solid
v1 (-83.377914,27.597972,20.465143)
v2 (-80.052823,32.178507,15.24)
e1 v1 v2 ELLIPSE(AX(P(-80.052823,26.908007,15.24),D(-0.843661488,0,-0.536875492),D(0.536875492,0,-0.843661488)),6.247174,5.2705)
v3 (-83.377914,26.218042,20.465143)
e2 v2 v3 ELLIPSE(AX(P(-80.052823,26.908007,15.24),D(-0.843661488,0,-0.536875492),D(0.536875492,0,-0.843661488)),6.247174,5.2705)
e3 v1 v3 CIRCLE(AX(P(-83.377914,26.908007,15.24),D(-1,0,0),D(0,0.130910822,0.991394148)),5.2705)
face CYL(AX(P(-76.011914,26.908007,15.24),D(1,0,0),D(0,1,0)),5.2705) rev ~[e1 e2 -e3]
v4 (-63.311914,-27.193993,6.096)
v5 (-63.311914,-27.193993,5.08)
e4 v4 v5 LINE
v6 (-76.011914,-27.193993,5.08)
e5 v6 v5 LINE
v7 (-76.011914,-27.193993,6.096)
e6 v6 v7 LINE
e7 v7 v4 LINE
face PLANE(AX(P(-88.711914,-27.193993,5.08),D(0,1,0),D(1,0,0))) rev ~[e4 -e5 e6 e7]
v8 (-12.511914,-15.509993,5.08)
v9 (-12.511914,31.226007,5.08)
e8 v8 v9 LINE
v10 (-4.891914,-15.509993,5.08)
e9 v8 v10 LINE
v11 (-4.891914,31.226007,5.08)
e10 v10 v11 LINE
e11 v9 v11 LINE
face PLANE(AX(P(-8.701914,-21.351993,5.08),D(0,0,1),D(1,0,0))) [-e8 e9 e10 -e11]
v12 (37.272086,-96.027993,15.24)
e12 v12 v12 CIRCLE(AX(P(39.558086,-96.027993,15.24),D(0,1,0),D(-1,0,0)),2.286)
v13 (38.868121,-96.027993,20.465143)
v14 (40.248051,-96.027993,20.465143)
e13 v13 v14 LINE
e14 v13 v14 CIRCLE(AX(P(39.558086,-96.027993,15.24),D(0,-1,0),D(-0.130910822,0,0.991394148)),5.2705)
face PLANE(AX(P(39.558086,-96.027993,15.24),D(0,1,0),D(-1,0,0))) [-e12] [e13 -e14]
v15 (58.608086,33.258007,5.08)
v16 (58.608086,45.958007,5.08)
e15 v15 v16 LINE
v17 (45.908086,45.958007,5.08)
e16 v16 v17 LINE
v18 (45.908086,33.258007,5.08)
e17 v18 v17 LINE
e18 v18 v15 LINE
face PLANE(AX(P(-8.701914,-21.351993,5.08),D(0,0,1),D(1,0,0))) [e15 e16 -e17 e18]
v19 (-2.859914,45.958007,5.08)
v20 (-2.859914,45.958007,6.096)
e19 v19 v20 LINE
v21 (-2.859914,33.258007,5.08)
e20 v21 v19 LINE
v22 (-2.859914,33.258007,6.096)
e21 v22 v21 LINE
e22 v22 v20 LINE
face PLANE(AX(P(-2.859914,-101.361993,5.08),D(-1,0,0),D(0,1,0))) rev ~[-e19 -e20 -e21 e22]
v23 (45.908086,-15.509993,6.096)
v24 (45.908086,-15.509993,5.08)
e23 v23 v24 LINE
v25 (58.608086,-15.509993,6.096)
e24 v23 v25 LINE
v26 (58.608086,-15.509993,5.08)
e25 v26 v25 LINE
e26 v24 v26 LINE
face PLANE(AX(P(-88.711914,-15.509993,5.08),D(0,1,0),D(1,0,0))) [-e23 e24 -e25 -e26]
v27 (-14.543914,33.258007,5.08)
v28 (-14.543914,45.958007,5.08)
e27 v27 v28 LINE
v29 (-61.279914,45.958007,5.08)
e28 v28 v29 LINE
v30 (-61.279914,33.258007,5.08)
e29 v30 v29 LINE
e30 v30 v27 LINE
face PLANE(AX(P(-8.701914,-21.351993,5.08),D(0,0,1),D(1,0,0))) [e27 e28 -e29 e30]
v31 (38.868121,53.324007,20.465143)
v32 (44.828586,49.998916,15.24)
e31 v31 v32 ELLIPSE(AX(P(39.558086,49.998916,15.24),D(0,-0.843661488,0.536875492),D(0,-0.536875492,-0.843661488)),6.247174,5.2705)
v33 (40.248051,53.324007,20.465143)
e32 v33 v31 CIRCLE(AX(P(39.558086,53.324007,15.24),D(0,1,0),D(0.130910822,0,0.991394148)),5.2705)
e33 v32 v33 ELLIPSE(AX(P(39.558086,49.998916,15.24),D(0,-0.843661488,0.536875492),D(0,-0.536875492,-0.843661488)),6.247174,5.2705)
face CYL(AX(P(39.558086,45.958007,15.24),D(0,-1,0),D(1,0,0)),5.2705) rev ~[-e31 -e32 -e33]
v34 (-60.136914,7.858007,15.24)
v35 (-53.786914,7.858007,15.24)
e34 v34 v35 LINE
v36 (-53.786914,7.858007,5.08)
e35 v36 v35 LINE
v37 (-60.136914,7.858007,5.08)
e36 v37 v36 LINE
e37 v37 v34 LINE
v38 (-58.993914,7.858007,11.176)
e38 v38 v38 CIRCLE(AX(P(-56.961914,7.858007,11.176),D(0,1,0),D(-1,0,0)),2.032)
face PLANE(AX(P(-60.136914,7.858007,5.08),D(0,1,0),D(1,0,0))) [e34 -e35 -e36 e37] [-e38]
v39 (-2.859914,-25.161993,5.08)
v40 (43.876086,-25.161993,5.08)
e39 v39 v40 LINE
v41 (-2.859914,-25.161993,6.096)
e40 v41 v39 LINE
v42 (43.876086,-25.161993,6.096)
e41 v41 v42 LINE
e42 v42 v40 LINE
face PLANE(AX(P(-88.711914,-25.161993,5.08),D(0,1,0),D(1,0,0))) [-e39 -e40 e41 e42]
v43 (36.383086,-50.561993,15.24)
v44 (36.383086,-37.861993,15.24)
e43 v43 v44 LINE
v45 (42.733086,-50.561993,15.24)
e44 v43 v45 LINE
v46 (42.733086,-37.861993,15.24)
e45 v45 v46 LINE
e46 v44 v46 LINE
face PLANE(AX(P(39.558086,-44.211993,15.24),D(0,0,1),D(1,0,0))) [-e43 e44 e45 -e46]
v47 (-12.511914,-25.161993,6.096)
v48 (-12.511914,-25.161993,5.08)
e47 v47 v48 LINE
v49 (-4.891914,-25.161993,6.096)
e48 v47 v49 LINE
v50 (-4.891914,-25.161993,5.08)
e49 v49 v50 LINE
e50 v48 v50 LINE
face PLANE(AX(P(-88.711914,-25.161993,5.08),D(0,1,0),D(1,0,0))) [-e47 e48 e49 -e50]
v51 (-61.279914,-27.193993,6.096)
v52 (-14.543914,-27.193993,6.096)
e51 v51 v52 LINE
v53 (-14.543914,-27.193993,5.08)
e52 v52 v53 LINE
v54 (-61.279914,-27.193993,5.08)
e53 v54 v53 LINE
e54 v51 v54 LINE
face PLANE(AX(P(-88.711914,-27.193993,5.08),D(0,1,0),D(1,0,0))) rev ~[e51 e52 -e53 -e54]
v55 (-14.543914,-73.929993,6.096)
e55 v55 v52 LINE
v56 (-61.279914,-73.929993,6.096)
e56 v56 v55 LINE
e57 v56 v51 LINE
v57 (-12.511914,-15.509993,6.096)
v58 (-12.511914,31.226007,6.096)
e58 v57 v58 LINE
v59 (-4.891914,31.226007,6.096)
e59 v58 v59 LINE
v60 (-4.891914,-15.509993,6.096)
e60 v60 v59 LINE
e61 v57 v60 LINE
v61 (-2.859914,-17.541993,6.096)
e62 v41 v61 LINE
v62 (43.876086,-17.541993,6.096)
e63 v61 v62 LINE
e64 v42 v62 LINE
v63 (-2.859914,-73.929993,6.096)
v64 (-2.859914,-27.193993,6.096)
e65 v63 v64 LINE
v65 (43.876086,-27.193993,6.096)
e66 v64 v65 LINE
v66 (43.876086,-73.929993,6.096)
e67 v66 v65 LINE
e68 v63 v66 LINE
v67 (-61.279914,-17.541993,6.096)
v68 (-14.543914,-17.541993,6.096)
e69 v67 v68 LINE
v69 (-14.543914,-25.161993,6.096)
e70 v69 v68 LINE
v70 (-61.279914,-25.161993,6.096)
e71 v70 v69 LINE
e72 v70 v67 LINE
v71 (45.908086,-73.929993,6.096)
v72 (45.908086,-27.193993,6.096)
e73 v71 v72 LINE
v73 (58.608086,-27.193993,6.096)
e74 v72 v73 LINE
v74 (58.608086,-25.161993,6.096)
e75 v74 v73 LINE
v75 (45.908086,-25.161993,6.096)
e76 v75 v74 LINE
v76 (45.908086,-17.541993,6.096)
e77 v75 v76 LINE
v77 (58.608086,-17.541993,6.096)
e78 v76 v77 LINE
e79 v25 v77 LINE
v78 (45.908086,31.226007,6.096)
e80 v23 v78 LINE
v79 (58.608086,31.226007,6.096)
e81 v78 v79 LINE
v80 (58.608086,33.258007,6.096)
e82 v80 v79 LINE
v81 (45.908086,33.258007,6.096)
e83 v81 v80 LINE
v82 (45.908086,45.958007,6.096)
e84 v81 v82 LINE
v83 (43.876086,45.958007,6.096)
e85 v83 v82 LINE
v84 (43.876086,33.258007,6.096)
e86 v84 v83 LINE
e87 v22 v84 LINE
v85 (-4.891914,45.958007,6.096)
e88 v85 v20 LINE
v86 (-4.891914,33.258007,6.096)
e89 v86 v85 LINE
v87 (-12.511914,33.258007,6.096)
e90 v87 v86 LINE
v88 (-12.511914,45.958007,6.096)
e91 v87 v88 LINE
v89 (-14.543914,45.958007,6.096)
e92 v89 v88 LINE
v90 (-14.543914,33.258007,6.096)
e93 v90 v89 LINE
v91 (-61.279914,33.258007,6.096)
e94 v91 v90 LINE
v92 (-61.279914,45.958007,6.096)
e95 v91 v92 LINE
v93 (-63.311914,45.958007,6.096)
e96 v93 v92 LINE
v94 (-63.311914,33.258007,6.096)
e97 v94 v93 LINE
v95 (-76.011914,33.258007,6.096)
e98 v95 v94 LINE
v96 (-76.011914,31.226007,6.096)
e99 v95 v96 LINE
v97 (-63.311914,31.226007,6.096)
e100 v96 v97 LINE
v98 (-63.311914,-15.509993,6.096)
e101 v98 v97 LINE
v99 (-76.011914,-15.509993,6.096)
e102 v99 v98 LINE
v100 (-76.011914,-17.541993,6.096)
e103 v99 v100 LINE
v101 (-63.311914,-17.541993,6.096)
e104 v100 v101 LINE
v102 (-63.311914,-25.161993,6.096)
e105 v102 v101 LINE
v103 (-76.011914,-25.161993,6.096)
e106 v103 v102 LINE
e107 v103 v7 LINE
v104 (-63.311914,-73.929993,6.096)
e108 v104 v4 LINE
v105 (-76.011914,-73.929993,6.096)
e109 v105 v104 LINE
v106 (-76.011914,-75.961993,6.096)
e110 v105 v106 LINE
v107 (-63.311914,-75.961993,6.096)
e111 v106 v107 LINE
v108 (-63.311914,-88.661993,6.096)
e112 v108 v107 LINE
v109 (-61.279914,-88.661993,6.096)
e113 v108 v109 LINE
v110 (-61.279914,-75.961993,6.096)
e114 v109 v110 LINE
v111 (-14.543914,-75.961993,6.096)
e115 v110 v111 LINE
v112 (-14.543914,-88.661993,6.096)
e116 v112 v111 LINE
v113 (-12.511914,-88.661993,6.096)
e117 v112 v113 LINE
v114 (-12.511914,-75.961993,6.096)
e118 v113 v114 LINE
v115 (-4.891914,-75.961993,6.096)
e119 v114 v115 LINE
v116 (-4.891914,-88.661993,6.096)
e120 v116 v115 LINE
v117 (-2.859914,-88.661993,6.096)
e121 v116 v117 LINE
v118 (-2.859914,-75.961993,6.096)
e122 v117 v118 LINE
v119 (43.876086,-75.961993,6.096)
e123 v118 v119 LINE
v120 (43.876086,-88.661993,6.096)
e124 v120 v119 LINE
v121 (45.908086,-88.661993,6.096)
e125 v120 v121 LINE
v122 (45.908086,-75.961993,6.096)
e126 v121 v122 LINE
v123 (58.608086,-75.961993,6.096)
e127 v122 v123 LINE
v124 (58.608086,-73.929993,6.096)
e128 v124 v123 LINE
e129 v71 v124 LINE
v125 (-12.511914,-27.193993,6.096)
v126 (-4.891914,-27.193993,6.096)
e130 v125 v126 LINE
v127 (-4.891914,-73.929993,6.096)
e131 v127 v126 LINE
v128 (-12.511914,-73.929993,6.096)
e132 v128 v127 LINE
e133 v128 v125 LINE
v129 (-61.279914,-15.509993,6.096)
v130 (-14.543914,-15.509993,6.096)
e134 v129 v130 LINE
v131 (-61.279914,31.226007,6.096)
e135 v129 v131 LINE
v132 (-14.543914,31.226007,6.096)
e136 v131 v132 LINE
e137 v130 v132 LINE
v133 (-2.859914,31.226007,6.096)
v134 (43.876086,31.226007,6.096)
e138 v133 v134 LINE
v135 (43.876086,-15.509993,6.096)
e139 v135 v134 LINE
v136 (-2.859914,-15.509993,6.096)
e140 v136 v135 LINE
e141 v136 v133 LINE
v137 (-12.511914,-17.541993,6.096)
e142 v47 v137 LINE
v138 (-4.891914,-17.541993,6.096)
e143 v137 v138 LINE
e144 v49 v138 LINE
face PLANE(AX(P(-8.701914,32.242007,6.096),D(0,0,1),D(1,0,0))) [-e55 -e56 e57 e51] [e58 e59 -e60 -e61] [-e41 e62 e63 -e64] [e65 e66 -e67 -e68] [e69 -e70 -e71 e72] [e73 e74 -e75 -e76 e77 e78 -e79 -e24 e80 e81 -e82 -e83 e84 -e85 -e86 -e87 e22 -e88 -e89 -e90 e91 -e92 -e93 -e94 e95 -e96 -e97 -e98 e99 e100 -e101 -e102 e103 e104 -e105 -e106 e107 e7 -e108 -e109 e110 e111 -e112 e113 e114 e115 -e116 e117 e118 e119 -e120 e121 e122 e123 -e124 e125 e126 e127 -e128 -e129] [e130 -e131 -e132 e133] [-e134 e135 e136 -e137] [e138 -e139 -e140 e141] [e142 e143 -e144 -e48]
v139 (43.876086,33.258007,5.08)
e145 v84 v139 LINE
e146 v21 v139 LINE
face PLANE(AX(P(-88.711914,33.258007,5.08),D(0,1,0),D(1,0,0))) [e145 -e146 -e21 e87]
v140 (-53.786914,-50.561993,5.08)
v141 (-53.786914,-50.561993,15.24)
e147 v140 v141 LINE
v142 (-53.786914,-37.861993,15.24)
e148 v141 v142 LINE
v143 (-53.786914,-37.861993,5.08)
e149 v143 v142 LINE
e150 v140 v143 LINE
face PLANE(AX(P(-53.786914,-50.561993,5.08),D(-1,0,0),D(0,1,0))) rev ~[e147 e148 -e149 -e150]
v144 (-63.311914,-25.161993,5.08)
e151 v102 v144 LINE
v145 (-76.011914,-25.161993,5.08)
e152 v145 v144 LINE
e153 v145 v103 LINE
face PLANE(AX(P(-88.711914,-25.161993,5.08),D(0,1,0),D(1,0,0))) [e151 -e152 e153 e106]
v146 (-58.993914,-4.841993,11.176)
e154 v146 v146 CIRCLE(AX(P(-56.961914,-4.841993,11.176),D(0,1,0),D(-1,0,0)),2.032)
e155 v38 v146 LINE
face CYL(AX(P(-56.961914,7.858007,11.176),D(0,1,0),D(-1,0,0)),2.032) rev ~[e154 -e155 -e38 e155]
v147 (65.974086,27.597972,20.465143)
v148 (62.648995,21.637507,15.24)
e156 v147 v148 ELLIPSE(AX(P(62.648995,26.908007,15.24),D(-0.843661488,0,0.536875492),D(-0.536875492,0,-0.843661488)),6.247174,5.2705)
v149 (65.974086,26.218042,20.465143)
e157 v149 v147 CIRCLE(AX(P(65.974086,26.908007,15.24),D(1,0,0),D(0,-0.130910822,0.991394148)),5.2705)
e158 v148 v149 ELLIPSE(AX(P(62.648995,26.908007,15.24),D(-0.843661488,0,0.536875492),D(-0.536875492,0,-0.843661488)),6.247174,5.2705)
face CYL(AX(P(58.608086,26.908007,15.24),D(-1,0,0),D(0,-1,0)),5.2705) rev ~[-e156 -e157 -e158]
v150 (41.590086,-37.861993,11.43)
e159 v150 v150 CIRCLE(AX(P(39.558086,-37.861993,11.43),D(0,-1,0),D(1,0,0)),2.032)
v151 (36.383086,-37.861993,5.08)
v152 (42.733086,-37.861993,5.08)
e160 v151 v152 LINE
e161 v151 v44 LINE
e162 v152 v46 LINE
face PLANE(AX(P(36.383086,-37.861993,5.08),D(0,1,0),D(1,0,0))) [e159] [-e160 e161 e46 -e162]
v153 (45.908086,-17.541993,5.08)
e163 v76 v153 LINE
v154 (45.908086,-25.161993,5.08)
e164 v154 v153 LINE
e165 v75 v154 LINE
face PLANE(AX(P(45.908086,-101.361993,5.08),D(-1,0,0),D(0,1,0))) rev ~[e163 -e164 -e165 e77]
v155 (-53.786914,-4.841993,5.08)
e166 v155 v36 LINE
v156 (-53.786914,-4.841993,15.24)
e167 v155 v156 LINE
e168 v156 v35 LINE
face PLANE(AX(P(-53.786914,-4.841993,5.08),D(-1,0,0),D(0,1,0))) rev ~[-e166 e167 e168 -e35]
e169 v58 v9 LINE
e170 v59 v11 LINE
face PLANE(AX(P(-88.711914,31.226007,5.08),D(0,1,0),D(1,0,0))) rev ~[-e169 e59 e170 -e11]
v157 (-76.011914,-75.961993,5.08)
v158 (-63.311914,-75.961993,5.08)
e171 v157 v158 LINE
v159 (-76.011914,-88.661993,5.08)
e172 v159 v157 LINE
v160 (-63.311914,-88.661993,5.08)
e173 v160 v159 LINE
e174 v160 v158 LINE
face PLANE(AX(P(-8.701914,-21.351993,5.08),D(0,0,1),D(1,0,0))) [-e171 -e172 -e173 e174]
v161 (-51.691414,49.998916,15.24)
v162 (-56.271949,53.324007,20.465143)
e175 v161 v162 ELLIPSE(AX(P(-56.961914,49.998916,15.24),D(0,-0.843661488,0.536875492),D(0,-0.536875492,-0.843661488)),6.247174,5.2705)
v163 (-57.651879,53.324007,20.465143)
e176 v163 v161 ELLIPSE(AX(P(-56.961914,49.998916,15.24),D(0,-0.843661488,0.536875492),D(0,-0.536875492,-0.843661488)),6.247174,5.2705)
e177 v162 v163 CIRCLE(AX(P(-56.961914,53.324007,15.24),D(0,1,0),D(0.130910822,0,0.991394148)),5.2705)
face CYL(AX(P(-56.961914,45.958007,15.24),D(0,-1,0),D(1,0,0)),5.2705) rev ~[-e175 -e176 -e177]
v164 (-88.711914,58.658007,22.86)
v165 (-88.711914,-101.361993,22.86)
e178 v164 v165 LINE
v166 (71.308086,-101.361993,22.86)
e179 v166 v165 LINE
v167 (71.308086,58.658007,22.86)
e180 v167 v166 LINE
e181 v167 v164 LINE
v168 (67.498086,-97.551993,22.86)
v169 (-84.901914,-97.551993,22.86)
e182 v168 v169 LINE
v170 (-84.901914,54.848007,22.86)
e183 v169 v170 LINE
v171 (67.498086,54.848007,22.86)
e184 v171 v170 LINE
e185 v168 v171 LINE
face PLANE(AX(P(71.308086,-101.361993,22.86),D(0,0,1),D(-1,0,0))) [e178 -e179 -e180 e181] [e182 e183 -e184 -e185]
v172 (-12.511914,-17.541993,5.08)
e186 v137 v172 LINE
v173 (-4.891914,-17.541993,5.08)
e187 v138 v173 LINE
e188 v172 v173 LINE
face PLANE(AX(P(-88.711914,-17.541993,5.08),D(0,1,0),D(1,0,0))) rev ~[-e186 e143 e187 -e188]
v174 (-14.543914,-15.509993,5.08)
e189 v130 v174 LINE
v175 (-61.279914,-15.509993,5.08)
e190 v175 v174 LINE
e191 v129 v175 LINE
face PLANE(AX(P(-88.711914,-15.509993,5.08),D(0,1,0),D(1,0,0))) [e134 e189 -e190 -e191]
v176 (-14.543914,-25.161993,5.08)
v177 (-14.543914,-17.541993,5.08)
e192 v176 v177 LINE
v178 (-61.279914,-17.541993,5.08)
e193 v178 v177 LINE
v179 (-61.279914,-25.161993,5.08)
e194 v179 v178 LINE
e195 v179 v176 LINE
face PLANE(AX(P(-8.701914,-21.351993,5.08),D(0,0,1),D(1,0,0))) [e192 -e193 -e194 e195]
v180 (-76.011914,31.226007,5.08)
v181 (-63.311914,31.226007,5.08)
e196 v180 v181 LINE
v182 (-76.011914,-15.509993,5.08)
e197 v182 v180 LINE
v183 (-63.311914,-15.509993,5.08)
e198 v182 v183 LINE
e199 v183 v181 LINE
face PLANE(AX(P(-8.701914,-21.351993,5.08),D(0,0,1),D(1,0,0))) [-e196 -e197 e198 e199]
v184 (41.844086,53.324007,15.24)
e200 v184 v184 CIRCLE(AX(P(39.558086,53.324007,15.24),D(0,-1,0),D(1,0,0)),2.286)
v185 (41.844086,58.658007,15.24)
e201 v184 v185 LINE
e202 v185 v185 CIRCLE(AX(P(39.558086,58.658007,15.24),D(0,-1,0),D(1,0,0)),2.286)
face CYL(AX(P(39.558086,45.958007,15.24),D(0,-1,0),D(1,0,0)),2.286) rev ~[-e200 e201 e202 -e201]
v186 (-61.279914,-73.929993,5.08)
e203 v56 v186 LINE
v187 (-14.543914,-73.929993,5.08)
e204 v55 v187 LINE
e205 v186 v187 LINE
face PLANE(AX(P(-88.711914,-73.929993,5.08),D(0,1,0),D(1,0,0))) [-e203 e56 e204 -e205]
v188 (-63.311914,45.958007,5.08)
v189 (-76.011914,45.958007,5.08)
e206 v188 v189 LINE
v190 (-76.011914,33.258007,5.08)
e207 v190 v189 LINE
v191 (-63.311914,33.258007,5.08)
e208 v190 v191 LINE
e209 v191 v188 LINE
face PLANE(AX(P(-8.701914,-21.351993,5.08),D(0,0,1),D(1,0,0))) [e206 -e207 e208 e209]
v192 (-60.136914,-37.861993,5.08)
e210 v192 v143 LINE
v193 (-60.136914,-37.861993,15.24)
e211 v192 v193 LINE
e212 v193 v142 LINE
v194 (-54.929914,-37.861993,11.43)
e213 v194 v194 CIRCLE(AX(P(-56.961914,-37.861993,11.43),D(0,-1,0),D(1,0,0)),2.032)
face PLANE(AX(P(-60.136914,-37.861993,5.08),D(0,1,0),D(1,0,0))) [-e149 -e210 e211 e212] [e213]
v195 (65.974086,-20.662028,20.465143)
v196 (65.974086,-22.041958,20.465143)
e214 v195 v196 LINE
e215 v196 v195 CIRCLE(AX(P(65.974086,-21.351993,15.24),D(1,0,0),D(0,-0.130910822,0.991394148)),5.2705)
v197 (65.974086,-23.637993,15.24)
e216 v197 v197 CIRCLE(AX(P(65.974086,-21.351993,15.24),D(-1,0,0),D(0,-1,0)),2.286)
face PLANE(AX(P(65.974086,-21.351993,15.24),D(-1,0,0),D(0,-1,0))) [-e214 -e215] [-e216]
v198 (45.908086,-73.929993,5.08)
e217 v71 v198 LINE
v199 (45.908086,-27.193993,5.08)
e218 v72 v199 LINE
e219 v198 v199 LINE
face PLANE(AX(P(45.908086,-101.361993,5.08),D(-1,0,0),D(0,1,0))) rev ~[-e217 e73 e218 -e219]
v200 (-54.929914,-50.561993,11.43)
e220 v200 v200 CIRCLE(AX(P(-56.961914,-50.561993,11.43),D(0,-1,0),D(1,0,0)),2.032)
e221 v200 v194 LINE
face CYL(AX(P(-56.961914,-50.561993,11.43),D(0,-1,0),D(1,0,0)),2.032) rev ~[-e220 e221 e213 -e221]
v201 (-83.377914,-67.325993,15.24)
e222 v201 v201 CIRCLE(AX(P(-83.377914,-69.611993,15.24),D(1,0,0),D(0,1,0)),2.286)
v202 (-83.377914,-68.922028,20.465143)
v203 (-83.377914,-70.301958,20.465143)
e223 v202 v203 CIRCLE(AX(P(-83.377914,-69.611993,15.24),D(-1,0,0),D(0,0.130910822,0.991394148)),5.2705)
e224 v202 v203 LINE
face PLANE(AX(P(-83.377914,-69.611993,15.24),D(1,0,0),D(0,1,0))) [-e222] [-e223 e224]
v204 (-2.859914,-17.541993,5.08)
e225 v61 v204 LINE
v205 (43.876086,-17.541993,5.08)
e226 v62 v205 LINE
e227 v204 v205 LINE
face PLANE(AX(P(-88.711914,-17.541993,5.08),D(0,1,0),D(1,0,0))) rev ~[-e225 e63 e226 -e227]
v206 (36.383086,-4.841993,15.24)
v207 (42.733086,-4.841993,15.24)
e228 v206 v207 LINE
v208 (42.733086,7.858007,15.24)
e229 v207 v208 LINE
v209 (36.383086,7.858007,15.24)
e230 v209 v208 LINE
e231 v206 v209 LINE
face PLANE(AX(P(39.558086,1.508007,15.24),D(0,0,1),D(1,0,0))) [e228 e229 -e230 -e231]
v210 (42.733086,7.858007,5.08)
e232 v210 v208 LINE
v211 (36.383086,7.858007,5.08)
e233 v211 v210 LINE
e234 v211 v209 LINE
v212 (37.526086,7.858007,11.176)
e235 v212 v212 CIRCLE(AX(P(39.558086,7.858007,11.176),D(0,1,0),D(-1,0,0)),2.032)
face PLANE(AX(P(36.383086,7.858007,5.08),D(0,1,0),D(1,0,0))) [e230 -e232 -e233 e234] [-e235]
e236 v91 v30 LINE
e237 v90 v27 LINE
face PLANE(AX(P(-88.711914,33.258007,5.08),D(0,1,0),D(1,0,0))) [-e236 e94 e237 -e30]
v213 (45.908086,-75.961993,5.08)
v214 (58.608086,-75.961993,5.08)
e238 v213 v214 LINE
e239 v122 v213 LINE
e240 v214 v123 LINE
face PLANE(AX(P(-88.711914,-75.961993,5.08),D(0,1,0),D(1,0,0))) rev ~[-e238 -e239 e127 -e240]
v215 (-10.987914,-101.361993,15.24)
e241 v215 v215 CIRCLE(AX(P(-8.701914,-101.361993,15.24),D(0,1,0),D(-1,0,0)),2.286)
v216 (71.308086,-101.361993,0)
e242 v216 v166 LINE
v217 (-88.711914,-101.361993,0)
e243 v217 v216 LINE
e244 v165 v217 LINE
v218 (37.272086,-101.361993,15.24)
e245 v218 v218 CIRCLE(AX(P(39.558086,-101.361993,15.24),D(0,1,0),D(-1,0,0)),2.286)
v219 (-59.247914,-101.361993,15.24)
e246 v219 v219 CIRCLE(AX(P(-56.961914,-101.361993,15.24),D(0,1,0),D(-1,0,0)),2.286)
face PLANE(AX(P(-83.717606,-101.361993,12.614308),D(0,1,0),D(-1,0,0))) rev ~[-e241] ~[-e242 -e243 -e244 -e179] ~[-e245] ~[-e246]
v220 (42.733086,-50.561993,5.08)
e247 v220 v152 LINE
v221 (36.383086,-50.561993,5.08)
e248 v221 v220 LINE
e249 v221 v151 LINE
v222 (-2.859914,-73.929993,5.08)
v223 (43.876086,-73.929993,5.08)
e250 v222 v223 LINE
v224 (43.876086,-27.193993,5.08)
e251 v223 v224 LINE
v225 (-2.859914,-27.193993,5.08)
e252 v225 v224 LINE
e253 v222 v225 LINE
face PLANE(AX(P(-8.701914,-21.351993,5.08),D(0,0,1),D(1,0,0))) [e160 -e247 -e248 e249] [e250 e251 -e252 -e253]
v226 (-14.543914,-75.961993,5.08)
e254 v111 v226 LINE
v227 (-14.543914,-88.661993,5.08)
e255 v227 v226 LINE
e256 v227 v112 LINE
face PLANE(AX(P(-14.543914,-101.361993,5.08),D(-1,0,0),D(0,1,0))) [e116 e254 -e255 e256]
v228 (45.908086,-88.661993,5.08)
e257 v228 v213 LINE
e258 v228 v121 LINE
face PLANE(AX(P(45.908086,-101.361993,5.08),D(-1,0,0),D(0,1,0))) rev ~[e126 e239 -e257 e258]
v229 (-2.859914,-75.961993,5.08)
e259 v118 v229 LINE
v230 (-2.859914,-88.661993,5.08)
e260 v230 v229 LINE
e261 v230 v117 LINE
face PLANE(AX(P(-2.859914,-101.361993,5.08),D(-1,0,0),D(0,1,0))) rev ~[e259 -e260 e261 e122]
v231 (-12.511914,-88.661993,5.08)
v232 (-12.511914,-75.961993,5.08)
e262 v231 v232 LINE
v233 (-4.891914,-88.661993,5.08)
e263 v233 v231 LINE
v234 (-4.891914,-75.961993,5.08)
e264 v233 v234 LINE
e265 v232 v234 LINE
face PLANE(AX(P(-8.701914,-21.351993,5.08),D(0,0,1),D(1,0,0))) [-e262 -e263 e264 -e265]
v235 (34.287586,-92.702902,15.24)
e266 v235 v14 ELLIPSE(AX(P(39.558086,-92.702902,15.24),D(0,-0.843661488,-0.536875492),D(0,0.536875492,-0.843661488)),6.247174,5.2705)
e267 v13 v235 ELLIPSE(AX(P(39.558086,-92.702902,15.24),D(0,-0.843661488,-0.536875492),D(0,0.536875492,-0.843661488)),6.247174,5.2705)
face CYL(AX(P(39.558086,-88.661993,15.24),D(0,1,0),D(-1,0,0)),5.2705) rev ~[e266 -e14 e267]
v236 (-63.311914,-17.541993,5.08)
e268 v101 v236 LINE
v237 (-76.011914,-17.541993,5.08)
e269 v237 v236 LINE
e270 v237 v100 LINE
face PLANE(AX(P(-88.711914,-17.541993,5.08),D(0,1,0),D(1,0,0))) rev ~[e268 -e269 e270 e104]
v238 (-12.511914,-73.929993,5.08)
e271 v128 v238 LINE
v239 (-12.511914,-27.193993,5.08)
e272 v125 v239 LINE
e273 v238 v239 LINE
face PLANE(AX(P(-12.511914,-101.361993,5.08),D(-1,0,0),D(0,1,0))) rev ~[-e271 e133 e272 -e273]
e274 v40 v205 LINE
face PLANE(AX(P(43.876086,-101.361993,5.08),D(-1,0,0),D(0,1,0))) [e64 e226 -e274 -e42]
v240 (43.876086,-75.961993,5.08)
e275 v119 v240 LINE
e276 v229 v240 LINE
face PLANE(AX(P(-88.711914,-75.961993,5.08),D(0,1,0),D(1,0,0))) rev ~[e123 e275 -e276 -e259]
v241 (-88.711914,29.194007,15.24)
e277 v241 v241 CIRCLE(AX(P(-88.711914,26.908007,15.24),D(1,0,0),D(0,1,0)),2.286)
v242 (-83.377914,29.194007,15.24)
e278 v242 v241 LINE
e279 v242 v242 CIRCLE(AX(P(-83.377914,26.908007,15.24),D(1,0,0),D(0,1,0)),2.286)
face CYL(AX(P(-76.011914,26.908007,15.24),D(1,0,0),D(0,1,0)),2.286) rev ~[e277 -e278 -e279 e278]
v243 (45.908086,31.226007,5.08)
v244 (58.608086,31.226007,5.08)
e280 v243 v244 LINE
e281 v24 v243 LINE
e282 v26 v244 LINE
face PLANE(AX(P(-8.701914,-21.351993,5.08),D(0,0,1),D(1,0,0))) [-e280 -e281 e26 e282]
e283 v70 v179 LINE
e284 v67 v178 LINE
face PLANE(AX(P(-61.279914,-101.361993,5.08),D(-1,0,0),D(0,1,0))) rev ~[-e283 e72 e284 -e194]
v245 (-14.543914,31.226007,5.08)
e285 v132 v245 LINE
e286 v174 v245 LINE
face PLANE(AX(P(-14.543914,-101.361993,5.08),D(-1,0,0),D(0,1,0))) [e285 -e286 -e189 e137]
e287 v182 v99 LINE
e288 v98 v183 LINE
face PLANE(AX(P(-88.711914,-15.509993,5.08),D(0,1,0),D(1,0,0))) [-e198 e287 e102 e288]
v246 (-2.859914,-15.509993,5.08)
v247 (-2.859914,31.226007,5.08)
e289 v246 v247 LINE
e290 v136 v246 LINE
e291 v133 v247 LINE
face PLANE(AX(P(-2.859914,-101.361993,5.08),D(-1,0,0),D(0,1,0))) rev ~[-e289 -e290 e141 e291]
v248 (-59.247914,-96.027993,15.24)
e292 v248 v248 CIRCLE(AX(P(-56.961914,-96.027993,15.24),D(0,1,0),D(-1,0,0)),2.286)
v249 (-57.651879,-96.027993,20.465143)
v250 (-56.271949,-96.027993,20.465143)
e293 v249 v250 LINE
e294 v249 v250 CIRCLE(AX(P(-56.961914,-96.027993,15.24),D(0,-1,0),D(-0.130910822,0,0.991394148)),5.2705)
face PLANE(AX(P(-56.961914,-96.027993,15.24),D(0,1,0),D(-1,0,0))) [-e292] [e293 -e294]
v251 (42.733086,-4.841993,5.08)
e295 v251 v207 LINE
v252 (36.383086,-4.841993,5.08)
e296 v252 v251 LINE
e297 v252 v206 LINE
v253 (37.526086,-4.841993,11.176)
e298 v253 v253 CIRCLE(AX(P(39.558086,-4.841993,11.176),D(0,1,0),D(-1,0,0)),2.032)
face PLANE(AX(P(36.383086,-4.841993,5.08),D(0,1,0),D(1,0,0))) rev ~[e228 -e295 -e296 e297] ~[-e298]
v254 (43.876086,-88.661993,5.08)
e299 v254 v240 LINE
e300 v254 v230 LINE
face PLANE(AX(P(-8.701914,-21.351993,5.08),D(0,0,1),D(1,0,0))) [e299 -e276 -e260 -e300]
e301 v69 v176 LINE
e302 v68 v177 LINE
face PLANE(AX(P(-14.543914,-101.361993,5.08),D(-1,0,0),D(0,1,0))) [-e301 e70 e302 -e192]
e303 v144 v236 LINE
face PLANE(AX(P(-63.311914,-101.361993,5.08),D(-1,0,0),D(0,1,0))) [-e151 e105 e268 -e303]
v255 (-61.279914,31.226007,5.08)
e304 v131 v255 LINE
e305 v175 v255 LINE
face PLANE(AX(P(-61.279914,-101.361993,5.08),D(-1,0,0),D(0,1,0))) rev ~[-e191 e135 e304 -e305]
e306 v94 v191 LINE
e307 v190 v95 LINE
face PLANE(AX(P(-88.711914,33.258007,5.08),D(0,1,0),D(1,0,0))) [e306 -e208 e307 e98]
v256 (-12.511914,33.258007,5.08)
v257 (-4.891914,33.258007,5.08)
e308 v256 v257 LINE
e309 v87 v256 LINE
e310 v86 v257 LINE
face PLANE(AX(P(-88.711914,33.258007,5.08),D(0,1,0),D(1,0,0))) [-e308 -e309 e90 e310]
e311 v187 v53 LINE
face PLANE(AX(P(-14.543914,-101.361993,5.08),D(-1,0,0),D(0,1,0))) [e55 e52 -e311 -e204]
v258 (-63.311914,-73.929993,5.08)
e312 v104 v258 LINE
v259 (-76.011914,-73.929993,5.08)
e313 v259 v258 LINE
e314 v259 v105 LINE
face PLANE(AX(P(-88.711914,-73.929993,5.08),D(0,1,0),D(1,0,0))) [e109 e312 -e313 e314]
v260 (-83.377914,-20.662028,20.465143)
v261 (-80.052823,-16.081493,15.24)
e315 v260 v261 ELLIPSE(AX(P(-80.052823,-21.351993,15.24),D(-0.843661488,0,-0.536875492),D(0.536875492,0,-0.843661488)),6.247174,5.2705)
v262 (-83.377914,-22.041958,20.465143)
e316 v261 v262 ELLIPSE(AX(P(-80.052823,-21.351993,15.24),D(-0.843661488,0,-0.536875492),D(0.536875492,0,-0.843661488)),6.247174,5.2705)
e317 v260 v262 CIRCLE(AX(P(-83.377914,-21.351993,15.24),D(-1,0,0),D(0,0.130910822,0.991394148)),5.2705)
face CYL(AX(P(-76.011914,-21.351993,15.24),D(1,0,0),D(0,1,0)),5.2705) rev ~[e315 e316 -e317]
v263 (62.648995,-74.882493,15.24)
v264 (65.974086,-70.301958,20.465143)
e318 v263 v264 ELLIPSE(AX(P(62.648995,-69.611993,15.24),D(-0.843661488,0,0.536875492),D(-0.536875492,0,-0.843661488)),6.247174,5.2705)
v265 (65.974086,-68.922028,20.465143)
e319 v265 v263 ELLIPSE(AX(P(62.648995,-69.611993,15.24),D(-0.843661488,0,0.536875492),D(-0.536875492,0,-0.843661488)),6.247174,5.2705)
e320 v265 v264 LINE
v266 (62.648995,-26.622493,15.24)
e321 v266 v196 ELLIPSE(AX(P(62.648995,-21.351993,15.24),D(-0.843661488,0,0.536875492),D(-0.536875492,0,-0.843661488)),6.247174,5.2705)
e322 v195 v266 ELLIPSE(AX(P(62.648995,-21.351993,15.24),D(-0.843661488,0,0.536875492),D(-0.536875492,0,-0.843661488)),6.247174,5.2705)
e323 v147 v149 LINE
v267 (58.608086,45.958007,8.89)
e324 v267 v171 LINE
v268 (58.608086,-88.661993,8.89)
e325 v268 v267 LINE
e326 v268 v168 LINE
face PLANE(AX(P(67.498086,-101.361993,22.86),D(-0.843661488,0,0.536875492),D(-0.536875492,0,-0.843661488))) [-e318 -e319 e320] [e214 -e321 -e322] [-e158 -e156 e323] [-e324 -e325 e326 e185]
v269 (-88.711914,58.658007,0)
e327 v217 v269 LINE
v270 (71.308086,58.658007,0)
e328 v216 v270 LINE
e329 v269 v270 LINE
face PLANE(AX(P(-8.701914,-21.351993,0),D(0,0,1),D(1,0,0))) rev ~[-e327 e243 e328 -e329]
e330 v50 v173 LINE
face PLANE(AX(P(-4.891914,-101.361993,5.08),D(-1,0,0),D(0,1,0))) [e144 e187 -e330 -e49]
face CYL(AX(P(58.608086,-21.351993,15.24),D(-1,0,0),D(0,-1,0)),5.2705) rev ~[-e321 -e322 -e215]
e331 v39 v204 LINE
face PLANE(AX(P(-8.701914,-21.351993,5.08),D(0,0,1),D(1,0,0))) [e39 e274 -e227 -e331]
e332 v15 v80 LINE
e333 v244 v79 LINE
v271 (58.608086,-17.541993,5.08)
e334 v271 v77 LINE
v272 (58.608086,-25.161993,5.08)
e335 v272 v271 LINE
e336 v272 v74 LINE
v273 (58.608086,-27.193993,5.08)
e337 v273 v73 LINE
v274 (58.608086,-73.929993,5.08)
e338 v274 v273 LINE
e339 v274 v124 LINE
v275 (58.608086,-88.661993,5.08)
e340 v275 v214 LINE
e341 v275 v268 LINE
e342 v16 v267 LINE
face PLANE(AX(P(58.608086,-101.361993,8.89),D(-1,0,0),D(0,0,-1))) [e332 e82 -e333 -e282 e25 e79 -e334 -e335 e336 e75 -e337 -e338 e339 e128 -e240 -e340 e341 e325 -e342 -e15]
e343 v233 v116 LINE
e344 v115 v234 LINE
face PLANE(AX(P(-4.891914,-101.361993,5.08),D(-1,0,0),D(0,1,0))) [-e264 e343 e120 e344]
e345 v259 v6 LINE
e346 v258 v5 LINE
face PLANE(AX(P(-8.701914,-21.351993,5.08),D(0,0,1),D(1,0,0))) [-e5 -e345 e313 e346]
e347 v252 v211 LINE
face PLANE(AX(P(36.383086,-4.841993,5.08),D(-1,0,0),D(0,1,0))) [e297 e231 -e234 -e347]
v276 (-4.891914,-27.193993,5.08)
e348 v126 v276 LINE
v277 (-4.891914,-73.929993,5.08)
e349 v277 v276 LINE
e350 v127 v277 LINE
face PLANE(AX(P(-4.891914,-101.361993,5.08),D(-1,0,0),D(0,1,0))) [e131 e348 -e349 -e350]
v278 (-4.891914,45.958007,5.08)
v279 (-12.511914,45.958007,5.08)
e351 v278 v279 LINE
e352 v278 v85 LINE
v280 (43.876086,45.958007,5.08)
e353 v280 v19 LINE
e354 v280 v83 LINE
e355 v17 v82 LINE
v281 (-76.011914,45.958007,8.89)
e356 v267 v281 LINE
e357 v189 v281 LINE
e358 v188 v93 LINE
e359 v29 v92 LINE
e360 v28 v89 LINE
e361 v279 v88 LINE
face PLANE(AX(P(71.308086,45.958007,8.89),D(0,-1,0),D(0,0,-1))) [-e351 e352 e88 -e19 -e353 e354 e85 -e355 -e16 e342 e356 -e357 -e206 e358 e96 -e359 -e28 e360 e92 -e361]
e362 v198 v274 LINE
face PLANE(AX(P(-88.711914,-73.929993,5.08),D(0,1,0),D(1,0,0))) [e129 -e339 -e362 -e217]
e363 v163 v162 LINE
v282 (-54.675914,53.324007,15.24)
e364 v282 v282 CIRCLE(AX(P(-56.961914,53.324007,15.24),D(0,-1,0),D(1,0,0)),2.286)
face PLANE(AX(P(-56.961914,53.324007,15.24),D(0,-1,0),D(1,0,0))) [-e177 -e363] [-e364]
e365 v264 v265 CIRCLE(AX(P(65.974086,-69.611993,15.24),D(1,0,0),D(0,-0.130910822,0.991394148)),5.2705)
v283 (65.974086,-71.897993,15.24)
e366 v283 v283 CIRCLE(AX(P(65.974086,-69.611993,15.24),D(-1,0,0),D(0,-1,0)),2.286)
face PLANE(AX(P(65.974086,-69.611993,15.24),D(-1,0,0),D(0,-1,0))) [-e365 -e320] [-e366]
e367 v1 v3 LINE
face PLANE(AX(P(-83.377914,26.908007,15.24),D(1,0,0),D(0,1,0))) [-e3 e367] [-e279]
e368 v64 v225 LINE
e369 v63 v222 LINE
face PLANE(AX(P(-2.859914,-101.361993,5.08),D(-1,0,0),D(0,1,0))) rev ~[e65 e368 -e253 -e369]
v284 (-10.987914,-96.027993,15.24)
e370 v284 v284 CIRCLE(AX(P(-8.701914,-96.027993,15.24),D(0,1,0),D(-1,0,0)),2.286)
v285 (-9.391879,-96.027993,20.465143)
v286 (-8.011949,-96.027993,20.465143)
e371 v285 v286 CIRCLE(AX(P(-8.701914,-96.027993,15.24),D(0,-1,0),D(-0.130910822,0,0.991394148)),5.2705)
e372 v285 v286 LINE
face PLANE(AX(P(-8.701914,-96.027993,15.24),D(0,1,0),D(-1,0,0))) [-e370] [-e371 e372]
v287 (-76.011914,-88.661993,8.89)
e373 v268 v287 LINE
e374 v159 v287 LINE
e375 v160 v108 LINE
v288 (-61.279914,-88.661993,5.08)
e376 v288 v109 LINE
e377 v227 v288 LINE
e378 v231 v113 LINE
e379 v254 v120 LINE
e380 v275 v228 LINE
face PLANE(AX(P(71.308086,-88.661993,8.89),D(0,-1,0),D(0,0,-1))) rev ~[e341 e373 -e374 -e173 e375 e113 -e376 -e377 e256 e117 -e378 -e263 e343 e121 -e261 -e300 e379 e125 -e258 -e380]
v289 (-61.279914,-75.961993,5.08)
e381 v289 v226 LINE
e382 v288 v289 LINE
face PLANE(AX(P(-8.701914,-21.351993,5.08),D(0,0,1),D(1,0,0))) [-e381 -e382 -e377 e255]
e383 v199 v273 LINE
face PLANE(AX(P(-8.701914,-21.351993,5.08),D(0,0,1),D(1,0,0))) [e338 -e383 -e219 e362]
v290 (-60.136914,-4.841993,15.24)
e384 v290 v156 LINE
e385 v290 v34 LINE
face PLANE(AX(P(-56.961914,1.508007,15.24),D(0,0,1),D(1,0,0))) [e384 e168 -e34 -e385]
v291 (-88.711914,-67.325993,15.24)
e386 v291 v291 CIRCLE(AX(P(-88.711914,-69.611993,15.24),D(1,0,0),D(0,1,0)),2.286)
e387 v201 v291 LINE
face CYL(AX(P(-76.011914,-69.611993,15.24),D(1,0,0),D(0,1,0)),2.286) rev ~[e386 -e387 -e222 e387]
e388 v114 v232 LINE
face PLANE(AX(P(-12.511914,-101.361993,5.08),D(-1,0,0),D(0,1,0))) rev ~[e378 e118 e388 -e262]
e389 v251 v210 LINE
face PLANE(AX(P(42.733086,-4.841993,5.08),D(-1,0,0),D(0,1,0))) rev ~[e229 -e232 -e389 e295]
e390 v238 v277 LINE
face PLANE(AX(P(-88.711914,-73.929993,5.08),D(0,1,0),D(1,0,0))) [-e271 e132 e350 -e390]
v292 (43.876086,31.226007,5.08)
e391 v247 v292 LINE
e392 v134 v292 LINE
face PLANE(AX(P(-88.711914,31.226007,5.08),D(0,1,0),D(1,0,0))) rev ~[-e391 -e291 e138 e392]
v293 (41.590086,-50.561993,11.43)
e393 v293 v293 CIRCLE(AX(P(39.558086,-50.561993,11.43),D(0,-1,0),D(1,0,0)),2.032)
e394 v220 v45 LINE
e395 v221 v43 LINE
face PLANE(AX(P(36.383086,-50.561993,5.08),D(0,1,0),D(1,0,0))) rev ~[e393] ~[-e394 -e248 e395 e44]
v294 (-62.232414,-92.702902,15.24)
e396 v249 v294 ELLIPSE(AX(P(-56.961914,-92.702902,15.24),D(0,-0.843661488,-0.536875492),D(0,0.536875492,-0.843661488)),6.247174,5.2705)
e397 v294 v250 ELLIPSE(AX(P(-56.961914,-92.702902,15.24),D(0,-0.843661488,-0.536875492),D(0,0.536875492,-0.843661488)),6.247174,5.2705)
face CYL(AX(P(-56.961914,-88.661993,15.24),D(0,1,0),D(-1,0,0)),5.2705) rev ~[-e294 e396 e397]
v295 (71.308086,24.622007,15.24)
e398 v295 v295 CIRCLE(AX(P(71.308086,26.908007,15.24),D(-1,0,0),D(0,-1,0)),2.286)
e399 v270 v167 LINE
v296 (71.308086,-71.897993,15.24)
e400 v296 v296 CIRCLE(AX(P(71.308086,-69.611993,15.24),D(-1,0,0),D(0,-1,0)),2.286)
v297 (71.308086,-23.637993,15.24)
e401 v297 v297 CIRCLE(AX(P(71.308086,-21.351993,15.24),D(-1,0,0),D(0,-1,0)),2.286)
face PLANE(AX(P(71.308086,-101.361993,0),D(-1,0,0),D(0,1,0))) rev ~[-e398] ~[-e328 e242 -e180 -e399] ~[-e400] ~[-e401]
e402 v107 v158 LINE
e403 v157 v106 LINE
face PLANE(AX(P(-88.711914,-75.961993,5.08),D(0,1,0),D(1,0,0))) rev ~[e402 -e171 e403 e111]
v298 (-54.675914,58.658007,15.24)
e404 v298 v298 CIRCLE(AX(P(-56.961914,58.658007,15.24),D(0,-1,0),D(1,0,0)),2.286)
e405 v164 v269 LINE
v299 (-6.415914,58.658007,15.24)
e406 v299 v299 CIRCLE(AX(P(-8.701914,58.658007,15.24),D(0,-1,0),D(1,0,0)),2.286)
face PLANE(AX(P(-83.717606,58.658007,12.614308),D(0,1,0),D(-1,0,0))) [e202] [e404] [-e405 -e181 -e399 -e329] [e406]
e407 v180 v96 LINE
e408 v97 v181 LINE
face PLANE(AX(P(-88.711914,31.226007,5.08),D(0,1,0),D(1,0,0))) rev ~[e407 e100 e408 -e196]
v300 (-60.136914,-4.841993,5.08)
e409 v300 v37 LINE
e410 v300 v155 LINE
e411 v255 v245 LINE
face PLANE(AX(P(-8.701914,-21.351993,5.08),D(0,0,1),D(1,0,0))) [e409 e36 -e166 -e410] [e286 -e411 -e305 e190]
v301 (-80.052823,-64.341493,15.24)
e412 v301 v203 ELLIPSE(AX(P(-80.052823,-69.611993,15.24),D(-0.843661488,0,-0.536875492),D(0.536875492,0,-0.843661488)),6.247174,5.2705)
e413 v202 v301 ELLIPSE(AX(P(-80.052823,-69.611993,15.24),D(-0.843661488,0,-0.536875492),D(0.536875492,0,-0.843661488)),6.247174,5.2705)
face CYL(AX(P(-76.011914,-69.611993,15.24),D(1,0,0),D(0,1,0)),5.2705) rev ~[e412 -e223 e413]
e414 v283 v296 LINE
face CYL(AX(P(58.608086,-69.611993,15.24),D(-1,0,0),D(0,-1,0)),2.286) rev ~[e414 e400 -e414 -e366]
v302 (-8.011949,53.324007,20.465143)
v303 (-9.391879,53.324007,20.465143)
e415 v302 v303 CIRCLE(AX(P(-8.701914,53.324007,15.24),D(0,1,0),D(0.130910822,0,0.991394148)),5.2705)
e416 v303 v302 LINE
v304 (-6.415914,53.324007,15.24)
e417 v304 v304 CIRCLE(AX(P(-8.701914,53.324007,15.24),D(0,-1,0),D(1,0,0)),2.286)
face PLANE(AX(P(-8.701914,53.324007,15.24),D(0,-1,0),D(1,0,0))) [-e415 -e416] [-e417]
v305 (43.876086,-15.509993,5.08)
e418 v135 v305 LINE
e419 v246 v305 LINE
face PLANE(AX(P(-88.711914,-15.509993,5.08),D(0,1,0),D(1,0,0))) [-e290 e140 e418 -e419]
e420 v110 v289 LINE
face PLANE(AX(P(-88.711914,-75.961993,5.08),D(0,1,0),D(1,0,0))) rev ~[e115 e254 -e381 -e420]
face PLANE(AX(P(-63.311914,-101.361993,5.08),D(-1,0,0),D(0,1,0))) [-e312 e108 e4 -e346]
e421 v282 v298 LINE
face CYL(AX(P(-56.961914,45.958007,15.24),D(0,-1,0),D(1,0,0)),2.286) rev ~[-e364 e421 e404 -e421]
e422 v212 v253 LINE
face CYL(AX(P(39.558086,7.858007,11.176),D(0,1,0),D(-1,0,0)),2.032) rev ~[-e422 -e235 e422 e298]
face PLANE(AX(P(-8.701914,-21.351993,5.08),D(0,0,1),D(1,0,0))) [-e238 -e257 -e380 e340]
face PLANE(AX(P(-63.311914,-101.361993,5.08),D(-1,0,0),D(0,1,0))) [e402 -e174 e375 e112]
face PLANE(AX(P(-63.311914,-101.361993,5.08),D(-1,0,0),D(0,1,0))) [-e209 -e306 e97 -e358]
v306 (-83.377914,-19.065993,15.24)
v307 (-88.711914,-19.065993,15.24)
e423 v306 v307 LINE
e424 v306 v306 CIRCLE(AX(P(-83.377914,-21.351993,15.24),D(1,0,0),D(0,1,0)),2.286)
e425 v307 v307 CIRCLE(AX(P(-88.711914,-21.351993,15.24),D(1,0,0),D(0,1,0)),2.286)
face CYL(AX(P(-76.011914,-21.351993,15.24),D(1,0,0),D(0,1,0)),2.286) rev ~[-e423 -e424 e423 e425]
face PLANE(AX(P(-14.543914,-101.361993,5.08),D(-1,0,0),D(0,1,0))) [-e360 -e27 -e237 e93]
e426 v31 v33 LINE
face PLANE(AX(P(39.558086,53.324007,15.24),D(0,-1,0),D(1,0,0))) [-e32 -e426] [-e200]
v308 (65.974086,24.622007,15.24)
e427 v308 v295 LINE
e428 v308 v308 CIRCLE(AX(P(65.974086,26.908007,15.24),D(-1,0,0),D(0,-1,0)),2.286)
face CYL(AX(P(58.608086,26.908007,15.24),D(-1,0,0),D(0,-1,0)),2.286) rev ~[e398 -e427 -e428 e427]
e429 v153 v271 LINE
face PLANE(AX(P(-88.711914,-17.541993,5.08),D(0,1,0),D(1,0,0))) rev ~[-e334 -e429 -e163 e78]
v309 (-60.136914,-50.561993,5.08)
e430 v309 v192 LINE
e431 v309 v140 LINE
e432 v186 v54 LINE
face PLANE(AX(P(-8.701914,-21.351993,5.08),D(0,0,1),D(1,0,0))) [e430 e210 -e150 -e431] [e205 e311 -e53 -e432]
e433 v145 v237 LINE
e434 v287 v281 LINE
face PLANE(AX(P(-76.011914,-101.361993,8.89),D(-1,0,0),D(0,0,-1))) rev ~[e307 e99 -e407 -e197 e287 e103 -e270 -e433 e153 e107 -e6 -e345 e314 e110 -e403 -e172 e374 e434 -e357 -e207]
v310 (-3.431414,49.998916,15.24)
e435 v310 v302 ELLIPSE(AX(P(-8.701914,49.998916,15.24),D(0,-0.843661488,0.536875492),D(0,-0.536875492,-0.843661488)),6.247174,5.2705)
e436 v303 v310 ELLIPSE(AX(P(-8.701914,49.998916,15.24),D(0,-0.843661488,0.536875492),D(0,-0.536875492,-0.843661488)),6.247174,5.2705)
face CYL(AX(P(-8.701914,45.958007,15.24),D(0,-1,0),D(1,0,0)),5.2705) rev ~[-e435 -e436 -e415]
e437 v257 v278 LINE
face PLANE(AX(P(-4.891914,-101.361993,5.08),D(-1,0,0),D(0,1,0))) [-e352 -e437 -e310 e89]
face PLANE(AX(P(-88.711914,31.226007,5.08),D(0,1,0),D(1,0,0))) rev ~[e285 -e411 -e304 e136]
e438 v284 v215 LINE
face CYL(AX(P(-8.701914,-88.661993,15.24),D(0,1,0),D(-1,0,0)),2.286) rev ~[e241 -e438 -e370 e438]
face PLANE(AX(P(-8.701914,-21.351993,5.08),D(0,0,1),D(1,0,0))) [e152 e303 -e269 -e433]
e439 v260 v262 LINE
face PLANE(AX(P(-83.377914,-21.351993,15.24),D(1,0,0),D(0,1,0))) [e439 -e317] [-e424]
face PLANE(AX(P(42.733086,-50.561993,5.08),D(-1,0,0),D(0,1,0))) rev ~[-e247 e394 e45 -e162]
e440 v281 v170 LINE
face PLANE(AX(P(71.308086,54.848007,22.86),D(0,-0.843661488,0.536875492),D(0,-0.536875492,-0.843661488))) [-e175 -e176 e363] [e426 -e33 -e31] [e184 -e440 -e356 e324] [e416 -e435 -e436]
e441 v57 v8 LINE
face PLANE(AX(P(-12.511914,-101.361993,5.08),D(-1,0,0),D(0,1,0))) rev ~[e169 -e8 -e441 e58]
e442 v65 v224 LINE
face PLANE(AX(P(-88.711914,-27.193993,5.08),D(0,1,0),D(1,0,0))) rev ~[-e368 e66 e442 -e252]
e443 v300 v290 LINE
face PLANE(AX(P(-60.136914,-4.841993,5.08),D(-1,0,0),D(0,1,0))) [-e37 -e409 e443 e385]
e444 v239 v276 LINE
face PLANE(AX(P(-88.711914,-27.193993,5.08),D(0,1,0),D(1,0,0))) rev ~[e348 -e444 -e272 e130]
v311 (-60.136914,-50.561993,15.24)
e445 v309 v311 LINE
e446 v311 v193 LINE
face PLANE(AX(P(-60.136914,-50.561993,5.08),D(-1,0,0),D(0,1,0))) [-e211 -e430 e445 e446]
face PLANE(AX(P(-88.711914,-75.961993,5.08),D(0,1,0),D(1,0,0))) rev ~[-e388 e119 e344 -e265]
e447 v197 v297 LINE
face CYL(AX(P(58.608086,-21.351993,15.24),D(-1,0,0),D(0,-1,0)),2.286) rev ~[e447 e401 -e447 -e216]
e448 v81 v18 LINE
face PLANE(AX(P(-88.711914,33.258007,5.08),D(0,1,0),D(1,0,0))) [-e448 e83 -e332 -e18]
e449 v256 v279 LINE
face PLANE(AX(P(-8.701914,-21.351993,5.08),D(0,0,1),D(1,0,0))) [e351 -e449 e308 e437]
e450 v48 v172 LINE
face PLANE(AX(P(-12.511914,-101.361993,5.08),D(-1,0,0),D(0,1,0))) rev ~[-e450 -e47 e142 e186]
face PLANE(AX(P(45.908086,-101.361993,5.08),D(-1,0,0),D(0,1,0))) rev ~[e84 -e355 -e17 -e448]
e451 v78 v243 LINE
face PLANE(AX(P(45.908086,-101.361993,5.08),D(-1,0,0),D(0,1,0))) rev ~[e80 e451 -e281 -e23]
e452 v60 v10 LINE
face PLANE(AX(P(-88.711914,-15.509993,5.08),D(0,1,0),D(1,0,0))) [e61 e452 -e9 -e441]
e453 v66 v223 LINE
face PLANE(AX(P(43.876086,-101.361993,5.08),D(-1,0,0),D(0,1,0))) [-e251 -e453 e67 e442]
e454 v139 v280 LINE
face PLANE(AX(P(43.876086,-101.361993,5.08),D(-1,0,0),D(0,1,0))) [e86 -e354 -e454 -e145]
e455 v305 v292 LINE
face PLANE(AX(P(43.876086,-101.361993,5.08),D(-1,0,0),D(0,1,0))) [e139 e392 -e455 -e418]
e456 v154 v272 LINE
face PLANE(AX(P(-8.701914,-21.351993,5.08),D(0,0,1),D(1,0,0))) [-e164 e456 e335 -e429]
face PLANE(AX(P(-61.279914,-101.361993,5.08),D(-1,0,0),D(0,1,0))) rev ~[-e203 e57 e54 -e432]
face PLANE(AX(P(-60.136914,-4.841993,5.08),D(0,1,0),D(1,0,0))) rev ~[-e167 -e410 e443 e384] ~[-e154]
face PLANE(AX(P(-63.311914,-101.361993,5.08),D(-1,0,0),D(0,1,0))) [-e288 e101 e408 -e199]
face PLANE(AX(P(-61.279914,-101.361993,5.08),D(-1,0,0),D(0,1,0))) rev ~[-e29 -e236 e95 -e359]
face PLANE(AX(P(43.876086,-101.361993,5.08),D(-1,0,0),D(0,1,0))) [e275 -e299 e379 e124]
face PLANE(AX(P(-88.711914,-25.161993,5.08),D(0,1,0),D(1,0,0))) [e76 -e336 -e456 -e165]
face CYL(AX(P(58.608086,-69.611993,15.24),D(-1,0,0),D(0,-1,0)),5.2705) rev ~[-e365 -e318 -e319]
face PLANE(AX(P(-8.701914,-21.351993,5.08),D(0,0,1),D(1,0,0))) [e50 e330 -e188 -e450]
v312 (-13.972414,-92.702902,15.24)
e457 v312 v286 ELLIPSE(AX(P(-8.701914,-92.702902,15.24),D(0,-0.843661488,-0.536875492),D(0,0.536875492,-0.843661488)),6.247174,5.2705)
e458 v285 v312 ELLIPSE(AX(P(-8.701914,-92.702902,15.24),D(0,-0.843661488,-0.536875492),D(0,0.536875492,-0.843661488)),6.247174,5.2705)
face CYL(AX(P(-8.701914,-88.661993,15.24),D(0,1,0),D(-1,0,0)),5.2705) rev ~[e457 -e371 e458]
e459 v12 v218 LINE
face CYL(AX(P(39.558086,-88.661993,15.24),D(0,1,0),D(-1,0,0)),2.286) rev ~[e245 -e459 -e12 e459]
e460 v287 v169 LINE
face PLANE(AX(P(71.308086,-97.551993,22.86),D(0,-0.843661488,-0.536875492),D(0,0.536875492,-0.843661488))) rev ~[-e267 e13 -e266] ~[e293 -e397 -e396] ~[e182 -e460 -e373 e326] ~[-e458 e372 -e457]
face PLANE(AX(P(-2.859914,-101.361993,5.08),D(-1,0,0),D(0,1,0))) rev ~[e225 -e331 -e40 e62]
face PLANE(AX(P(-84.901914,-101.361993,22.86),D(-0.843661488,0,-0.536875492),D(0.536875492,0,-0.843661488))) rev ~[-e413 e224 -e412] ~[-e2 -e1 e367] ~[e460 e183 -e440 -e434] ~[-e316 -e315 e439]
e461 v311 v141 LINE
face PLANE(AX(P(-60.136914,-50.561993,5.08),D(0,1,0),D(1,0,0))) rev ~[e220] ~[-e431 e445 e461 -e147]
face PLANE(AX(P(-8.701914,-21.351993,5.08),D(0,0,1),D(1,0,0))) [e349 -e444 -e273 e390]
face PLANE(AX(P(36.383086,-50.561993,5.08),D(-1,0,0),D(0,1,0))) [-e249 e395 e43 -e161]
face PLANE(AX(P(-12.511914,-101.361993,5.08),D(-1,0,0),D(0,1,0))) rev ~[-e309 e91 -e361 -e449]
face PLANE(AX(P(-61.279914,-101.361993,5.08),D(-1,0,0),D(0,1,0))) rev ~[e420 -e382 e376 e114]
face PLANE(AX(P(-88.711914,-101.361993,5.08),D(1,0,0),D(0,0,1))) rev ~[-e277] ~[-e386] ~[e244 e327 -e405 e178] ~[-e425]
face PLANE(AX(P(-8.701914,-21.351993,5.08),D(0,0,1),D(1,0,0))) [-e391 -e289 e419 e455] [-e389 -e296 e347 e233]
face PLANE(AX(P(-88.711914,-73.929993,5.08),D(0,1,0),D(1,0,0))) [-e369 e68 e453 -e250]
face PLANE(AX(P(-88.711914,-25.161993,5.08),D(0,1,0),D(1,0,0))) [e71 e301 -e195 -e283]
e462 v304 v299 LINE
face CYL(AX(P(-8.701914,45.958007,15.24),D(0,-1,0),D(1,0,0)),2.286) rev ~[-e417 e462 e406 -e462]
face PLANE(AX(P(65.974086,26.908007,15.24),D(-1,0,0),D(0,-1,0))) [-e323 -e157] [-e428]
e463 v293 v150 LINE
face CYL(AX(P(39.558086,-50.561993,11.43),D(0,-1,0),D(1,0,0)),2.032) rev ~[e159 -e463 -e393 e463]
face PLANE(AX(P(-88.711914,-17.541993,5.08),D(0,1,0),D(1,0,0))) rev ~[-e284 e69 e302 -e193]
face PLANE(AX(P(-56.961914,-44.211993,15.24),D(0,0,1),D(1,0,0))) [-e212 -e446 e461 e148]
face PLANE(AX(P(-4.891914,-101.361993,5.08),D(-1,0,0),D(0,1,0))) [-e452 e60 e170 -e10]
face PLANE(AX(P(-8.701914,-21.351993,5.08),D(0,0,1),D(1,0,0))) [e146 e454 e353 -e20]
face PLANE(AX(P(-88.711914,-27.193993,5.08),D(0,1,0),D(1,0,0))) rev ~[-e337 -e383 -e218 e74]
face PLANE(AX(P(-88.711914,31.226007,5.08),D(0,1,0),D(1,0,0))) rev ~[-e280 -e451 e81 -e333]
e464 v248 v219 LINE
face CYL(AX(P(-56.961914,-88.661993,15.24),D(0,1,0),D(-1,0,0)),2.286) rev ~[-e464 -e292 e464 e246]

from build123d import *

# Parameters (mm, degrees)
SKETCH_W        = 160.02
SKETCH_H        = 160.02
PAD_DEPTH       = 5.08
SKETCH001_W     = 2.032
SKETCH001_H     = 160.02
PAD001_DEPTH    = 1.016
SKETCH002_W     = 160.02
SKETCH002_H     = 2.032
PAD002_DEPTH    = 1.016
SKETCH003_W     = 6.35
SKETCH003_H     = 12.7
PAD003_DEPTH    = 10.16
SKETCH004_R     = 2.032
POCKET_DEPTH    = 12.7
PAD004_DEPTH    = 160.02
PAD005_DEPTH    = 160.02
SKETCH007_R     = 5.2705
POCKET001_DEPTH = 7.366
SKETCH008_R     = 2.286
POCKET002_DEPTH = 12.7
SKETCH009_R     = 5.2705
POCKET003_DEPTH = 7.366
SKETCH010_R     = 2.286
POCKET004_DEPTH = 12.7
SKETCH011_R     = 5.2705
POCKET005_DEPTH = 7.366
SKETCH012_R     = 5.2705
POCKET006_DEPTH = 7.366
SKETCH013_R     = 2.286
POCKET007_DEPTH = 12.7
SKETCH014_R     = 2.286
POCKET008_DEPTH = 12.7
SKETCH015_W     = 6.35
SKETCH015_H     = 12.7
PAD006_DEPTH    = 10.16
SKETCH016_R     = 2.032
POCKET009_DEPTH = 12.7


with BuildPart() as part:
    # Sketch → Pad (new body)
    with BuildSketch(Plane.XY):
        with Locations((-8.701914, -21.351993)):
            Rectangle(SKETCH_W, SKETCH_H)
    extrude(amount=PAD_DEPTH)

    # Sketch001 (on Face6 of Pad) → Pad001 (join)
    with BuildSketch(Plane.XY.offset(5.08)):
        with Locations((-62.295914, -21.351993)):
            Rectangle(SKETCH001_W, SKETCH001_H)
        with Locations((44.892086, -21.351993)):
            Rectangle(SKETCH001_W, SKETCH001_H)
        with Locations((-13.527914, -21.351993)):
            Rectangle(SKETCH001_W, SKETCH001_H)
        with Locations((-3.875914, -21.351993)):
            Rectangle(SKETCH001_W, SKETCH001_H)
    extrude(amount=PAD001_DEPTH)

    # Sketch002 (on Face9 of Pad001) → Pad002 (join)
    with BuildSketch(Plane.XY.offset(5.08)):
        with Locations((-8.701914, 32.242007)):
            Rectangle(SKETCH002_W, SKETCH002_H)
        with Locations((-8.701914, -16.525993)):
            Rectangle(SKETCH002_W, SKETCH002_H)
        with Locations((-8.701914, -26.177993)):
            Rectangle(SKETCH002_W, SKETCH002_H)
        with Locations((-8.701914, -74.945993)):
            Rectangle(SKETCH002_W, SKETCH002_H)
    extrude(amount=PAD002_DEPTH)

    # Sketch003 (on Face164 of Pad002) → Pad003 (join)
    with BuildSketch(Plane.XY.offset(5.08)):
        with Locations((-56.961914, -44.211993)):
            Rectangle(SKETCH003_W, SKETCH003_H)
        with Locations((39.558086, -44.211993)):
            Rectangle(SKETCH003_W, SKETCH003_H)
    extrude(amount=PAD003_DEPTH)

    # Sketch004 (on Face174 of Pad003) → Pocket (cut)
    with BuildSketch(Plane.XZ.offset(50.561993)):
        with Locations((39.558086, 11.43)):
            Circle(SKETCH004_R)
        with Locations((-56.961914, 11.43)):
            Circle(SKETCH004_R)
    extrude(amount=-POCKET_DEPTH, mode=Mode.SUBTRACT)

    # Sketch005 (on Face14 of Pocket) → Pad004 (join)
    with BuildSketch(Plane.XZ.offset(101.361993)):
        Polygon((-88.711914, 5.08), (-88.711914, 22.86), (-84.901914, 22.86), (-76.011914, 8.89), (-76.011914, 5.08), align=None)
        Polygon((71.308086, 22.86), (67.498086, 22.86), (58.608086, 8.89), (58.608086, 5.08), (71.308086, 5.08), align=None)
    extrude(amount=-PAD004_DEPTH)

    # Sketch006 (on Face3 of Pad004) → Pad005 (join)
    with BuildSketch(Plane.YZ.offset(71.308086)):
        Polygon((-101.361993, 5.08), (-101.361993, 22.86), (-97.551993, 22.86), (-88.661993, 8.89), (-88.661993, 5.08), align=None)
        Polygon((58.658007, 5.08), (58.658007, 22.86), (54.848007, 22.86), (45.958007, 8.89), (45.958007, 5.08), align=None)
    extrude(amount=-PAD005_DEPTH)

    # Sketch007 (on Face66 of Pad005) → Pocket001 (cut)
    with BuildSketch(Plane(origin=(0, -88.661993, 0), x_dir=(-1, 0, 0), z_dir=(0, 1, 0))):
        with Locations((-39.558086, 15.24)):
            Circle(SKETCH007_R)
        with Locations((56.961914, 15.24)):
            Circle(SKETCH007_R)
        with Locations((8.701914, 15.24)):
            Circle(SKETCH007_R)
    extrude(amount=-POCKET001_DEPTH, mode=Mode.SUBTRACT)

    # Sketch008 (on Face66 of Pad005) → Pocket002 (cut)
    with BuildSketch(Plane(origin=(0, -88.661993, 0), x_dir=(-1, 0, 0), z_dir=(0, 1, 0))):
        with Locations((-39.558086, 15.24)):
            Circle(SKETCH008_R)
        with Locations((56.961914, 15.24)):
            Circle(SKETCH008_R)
        with Locations((8.701914, 15.24)):
            Circle(SKETCH008_R)
    extrude(amount=-POCKET002_DEPTH, mode=Mode.SUBTRACT)

    # Sketch009 (on Face53 of Pocket002) → Pocket003 (cut)
    with BuildSketch(Plane.YZ.offset(-76.011914)):
        with Locations((-69.611993, 15.24)):
            Circle(SKETCH009_R)
        with Locations((-21.351993, 15.24)):
            Circle(SKETCH009_R)
        with Locations((26.908007, 15.24)):
            Circle(SKETCH009_R)
    extrude(amount=-POCKET003_DEPTH, mode=Mode.SUBTRACT)

    # Sketch010 (on Face53 of Pocket003) → Pocket004 (cut)
    with BuildSketch(Plane.YZ.offset(-76.011914)):
        with Locations((-69.611993, 15.24)):
            Circle(SKETCH010_R)
        with Locations((-21.351993, 15.24)):
            Circle(SKETCH010_R)
        with Locations((26.908007, 15.24)):
            Circle(SKETCH010_R)
    extrude(amount=-POCKET004_DEPTH, mode=Mode.SUBTRACT)

    # Sketch011 (on Face54 of Pocket004) → Pocket005 (cut)
    with BuildSketch(Plane.XZ.offset(-45.958007)):
        with Locations((-56.961914, 15.24)):
            Circle(SKETCH011_R)
        with Locations((-8.701914, 15.24)):
            Circle(SKETCH011_R)
        with Locations((39.558086, 15.24)):
            Circle(SKETCH011_R)
    extrude(amount=-POCKET005_DEPTH, mode=Mode.SUBTRACT)

    # Sketch012 (on Face75 of Pocket005) → Pocket006 (cut)
    with BuildSketch(Plane(origin=(58.608086, 0, 0), x_dir=(0, -1, 0), z_dir=(-1, 0, 0))):
        with Locations((-26.908007, 15.24)):
            Circle(SKETCH012_R)
        with Locations((21.351993, 15.24)):
            Circle(SKETCH012_R)
        with Locations((69.611993, 15.24)):
            Circle(SKETCH012_R)
    extrude(amount=-POCKET006_DEPTH, mode=Mode.SUBTRACT)

    # Sketch013 (on Face75 of Pocket005) → Pocket007 (cut)
    with BuildSketch(Plane(origin=(58.608086, 0, 0), x_dir=(0, -1, 0), z_dir=(-1, 0, 0))):
        with Locations((-26.908007, 15.24)):
            Circle(SKETCH013_R)
        with Locations((21.351993, 15.24)):
            Circle(SKETCH013_R)
        with Locations((69.611993, 15.24)):
            Circle(SKETCH013_R)
    extrude(amount=-POCKET007_DEPTH, mode=Mode.SUBTRACT)

    # Sketch014 (on Face54 of Pocket004) → Pocket008 (cut)
    with BuildSketch(Plane.XZ.offset(-45.958007)):
        with Locations((-56.961914, 15.24)):
            Circle(SKETCH014_R)
        with Locations((-8.701914, 15.24)):
            Circle(SKETCH014_R)
        with Locations((39.558086, 15.24)):
            Circle(SKETCH014_R)
    extrude(amount=-POCKET008_DEPTH, mode=Mode.SUBTRACT)

    # Sketch015 (on Face164 of Pad002) → Pad006 (join)
    with BuildSketch(Plane.XY.offset(5.08)):
        with Locations((-56.961914, 1.508007)):
            Rectangle(SKETCH015_W, SKETCH015_H)
        with Locations((39.558086, 1.508007)):
            Rectangle(SKETCH015_W, SKETCH015_H)
    extrude(amount=PAD006_DEPTH)

    # Sketch016 (on Face254 of Pad006) → Pocket009 (cut)
    with BuildSketch(Plane(origin=(0, 7.858007, 0), x_dir=(-1, 0, 0), z_dir=(0, 1, 0))):
        with Locations((56.961914, 11.176)):
            Circle(SKETCH016_R)
        with Locations((-39.558086, 11.176)):
            Circle(SKETCH016_R)
    extrude(amount=-POCKET009_DEPTH, mode=Mode.SUBTRACT)


solid = part.part
